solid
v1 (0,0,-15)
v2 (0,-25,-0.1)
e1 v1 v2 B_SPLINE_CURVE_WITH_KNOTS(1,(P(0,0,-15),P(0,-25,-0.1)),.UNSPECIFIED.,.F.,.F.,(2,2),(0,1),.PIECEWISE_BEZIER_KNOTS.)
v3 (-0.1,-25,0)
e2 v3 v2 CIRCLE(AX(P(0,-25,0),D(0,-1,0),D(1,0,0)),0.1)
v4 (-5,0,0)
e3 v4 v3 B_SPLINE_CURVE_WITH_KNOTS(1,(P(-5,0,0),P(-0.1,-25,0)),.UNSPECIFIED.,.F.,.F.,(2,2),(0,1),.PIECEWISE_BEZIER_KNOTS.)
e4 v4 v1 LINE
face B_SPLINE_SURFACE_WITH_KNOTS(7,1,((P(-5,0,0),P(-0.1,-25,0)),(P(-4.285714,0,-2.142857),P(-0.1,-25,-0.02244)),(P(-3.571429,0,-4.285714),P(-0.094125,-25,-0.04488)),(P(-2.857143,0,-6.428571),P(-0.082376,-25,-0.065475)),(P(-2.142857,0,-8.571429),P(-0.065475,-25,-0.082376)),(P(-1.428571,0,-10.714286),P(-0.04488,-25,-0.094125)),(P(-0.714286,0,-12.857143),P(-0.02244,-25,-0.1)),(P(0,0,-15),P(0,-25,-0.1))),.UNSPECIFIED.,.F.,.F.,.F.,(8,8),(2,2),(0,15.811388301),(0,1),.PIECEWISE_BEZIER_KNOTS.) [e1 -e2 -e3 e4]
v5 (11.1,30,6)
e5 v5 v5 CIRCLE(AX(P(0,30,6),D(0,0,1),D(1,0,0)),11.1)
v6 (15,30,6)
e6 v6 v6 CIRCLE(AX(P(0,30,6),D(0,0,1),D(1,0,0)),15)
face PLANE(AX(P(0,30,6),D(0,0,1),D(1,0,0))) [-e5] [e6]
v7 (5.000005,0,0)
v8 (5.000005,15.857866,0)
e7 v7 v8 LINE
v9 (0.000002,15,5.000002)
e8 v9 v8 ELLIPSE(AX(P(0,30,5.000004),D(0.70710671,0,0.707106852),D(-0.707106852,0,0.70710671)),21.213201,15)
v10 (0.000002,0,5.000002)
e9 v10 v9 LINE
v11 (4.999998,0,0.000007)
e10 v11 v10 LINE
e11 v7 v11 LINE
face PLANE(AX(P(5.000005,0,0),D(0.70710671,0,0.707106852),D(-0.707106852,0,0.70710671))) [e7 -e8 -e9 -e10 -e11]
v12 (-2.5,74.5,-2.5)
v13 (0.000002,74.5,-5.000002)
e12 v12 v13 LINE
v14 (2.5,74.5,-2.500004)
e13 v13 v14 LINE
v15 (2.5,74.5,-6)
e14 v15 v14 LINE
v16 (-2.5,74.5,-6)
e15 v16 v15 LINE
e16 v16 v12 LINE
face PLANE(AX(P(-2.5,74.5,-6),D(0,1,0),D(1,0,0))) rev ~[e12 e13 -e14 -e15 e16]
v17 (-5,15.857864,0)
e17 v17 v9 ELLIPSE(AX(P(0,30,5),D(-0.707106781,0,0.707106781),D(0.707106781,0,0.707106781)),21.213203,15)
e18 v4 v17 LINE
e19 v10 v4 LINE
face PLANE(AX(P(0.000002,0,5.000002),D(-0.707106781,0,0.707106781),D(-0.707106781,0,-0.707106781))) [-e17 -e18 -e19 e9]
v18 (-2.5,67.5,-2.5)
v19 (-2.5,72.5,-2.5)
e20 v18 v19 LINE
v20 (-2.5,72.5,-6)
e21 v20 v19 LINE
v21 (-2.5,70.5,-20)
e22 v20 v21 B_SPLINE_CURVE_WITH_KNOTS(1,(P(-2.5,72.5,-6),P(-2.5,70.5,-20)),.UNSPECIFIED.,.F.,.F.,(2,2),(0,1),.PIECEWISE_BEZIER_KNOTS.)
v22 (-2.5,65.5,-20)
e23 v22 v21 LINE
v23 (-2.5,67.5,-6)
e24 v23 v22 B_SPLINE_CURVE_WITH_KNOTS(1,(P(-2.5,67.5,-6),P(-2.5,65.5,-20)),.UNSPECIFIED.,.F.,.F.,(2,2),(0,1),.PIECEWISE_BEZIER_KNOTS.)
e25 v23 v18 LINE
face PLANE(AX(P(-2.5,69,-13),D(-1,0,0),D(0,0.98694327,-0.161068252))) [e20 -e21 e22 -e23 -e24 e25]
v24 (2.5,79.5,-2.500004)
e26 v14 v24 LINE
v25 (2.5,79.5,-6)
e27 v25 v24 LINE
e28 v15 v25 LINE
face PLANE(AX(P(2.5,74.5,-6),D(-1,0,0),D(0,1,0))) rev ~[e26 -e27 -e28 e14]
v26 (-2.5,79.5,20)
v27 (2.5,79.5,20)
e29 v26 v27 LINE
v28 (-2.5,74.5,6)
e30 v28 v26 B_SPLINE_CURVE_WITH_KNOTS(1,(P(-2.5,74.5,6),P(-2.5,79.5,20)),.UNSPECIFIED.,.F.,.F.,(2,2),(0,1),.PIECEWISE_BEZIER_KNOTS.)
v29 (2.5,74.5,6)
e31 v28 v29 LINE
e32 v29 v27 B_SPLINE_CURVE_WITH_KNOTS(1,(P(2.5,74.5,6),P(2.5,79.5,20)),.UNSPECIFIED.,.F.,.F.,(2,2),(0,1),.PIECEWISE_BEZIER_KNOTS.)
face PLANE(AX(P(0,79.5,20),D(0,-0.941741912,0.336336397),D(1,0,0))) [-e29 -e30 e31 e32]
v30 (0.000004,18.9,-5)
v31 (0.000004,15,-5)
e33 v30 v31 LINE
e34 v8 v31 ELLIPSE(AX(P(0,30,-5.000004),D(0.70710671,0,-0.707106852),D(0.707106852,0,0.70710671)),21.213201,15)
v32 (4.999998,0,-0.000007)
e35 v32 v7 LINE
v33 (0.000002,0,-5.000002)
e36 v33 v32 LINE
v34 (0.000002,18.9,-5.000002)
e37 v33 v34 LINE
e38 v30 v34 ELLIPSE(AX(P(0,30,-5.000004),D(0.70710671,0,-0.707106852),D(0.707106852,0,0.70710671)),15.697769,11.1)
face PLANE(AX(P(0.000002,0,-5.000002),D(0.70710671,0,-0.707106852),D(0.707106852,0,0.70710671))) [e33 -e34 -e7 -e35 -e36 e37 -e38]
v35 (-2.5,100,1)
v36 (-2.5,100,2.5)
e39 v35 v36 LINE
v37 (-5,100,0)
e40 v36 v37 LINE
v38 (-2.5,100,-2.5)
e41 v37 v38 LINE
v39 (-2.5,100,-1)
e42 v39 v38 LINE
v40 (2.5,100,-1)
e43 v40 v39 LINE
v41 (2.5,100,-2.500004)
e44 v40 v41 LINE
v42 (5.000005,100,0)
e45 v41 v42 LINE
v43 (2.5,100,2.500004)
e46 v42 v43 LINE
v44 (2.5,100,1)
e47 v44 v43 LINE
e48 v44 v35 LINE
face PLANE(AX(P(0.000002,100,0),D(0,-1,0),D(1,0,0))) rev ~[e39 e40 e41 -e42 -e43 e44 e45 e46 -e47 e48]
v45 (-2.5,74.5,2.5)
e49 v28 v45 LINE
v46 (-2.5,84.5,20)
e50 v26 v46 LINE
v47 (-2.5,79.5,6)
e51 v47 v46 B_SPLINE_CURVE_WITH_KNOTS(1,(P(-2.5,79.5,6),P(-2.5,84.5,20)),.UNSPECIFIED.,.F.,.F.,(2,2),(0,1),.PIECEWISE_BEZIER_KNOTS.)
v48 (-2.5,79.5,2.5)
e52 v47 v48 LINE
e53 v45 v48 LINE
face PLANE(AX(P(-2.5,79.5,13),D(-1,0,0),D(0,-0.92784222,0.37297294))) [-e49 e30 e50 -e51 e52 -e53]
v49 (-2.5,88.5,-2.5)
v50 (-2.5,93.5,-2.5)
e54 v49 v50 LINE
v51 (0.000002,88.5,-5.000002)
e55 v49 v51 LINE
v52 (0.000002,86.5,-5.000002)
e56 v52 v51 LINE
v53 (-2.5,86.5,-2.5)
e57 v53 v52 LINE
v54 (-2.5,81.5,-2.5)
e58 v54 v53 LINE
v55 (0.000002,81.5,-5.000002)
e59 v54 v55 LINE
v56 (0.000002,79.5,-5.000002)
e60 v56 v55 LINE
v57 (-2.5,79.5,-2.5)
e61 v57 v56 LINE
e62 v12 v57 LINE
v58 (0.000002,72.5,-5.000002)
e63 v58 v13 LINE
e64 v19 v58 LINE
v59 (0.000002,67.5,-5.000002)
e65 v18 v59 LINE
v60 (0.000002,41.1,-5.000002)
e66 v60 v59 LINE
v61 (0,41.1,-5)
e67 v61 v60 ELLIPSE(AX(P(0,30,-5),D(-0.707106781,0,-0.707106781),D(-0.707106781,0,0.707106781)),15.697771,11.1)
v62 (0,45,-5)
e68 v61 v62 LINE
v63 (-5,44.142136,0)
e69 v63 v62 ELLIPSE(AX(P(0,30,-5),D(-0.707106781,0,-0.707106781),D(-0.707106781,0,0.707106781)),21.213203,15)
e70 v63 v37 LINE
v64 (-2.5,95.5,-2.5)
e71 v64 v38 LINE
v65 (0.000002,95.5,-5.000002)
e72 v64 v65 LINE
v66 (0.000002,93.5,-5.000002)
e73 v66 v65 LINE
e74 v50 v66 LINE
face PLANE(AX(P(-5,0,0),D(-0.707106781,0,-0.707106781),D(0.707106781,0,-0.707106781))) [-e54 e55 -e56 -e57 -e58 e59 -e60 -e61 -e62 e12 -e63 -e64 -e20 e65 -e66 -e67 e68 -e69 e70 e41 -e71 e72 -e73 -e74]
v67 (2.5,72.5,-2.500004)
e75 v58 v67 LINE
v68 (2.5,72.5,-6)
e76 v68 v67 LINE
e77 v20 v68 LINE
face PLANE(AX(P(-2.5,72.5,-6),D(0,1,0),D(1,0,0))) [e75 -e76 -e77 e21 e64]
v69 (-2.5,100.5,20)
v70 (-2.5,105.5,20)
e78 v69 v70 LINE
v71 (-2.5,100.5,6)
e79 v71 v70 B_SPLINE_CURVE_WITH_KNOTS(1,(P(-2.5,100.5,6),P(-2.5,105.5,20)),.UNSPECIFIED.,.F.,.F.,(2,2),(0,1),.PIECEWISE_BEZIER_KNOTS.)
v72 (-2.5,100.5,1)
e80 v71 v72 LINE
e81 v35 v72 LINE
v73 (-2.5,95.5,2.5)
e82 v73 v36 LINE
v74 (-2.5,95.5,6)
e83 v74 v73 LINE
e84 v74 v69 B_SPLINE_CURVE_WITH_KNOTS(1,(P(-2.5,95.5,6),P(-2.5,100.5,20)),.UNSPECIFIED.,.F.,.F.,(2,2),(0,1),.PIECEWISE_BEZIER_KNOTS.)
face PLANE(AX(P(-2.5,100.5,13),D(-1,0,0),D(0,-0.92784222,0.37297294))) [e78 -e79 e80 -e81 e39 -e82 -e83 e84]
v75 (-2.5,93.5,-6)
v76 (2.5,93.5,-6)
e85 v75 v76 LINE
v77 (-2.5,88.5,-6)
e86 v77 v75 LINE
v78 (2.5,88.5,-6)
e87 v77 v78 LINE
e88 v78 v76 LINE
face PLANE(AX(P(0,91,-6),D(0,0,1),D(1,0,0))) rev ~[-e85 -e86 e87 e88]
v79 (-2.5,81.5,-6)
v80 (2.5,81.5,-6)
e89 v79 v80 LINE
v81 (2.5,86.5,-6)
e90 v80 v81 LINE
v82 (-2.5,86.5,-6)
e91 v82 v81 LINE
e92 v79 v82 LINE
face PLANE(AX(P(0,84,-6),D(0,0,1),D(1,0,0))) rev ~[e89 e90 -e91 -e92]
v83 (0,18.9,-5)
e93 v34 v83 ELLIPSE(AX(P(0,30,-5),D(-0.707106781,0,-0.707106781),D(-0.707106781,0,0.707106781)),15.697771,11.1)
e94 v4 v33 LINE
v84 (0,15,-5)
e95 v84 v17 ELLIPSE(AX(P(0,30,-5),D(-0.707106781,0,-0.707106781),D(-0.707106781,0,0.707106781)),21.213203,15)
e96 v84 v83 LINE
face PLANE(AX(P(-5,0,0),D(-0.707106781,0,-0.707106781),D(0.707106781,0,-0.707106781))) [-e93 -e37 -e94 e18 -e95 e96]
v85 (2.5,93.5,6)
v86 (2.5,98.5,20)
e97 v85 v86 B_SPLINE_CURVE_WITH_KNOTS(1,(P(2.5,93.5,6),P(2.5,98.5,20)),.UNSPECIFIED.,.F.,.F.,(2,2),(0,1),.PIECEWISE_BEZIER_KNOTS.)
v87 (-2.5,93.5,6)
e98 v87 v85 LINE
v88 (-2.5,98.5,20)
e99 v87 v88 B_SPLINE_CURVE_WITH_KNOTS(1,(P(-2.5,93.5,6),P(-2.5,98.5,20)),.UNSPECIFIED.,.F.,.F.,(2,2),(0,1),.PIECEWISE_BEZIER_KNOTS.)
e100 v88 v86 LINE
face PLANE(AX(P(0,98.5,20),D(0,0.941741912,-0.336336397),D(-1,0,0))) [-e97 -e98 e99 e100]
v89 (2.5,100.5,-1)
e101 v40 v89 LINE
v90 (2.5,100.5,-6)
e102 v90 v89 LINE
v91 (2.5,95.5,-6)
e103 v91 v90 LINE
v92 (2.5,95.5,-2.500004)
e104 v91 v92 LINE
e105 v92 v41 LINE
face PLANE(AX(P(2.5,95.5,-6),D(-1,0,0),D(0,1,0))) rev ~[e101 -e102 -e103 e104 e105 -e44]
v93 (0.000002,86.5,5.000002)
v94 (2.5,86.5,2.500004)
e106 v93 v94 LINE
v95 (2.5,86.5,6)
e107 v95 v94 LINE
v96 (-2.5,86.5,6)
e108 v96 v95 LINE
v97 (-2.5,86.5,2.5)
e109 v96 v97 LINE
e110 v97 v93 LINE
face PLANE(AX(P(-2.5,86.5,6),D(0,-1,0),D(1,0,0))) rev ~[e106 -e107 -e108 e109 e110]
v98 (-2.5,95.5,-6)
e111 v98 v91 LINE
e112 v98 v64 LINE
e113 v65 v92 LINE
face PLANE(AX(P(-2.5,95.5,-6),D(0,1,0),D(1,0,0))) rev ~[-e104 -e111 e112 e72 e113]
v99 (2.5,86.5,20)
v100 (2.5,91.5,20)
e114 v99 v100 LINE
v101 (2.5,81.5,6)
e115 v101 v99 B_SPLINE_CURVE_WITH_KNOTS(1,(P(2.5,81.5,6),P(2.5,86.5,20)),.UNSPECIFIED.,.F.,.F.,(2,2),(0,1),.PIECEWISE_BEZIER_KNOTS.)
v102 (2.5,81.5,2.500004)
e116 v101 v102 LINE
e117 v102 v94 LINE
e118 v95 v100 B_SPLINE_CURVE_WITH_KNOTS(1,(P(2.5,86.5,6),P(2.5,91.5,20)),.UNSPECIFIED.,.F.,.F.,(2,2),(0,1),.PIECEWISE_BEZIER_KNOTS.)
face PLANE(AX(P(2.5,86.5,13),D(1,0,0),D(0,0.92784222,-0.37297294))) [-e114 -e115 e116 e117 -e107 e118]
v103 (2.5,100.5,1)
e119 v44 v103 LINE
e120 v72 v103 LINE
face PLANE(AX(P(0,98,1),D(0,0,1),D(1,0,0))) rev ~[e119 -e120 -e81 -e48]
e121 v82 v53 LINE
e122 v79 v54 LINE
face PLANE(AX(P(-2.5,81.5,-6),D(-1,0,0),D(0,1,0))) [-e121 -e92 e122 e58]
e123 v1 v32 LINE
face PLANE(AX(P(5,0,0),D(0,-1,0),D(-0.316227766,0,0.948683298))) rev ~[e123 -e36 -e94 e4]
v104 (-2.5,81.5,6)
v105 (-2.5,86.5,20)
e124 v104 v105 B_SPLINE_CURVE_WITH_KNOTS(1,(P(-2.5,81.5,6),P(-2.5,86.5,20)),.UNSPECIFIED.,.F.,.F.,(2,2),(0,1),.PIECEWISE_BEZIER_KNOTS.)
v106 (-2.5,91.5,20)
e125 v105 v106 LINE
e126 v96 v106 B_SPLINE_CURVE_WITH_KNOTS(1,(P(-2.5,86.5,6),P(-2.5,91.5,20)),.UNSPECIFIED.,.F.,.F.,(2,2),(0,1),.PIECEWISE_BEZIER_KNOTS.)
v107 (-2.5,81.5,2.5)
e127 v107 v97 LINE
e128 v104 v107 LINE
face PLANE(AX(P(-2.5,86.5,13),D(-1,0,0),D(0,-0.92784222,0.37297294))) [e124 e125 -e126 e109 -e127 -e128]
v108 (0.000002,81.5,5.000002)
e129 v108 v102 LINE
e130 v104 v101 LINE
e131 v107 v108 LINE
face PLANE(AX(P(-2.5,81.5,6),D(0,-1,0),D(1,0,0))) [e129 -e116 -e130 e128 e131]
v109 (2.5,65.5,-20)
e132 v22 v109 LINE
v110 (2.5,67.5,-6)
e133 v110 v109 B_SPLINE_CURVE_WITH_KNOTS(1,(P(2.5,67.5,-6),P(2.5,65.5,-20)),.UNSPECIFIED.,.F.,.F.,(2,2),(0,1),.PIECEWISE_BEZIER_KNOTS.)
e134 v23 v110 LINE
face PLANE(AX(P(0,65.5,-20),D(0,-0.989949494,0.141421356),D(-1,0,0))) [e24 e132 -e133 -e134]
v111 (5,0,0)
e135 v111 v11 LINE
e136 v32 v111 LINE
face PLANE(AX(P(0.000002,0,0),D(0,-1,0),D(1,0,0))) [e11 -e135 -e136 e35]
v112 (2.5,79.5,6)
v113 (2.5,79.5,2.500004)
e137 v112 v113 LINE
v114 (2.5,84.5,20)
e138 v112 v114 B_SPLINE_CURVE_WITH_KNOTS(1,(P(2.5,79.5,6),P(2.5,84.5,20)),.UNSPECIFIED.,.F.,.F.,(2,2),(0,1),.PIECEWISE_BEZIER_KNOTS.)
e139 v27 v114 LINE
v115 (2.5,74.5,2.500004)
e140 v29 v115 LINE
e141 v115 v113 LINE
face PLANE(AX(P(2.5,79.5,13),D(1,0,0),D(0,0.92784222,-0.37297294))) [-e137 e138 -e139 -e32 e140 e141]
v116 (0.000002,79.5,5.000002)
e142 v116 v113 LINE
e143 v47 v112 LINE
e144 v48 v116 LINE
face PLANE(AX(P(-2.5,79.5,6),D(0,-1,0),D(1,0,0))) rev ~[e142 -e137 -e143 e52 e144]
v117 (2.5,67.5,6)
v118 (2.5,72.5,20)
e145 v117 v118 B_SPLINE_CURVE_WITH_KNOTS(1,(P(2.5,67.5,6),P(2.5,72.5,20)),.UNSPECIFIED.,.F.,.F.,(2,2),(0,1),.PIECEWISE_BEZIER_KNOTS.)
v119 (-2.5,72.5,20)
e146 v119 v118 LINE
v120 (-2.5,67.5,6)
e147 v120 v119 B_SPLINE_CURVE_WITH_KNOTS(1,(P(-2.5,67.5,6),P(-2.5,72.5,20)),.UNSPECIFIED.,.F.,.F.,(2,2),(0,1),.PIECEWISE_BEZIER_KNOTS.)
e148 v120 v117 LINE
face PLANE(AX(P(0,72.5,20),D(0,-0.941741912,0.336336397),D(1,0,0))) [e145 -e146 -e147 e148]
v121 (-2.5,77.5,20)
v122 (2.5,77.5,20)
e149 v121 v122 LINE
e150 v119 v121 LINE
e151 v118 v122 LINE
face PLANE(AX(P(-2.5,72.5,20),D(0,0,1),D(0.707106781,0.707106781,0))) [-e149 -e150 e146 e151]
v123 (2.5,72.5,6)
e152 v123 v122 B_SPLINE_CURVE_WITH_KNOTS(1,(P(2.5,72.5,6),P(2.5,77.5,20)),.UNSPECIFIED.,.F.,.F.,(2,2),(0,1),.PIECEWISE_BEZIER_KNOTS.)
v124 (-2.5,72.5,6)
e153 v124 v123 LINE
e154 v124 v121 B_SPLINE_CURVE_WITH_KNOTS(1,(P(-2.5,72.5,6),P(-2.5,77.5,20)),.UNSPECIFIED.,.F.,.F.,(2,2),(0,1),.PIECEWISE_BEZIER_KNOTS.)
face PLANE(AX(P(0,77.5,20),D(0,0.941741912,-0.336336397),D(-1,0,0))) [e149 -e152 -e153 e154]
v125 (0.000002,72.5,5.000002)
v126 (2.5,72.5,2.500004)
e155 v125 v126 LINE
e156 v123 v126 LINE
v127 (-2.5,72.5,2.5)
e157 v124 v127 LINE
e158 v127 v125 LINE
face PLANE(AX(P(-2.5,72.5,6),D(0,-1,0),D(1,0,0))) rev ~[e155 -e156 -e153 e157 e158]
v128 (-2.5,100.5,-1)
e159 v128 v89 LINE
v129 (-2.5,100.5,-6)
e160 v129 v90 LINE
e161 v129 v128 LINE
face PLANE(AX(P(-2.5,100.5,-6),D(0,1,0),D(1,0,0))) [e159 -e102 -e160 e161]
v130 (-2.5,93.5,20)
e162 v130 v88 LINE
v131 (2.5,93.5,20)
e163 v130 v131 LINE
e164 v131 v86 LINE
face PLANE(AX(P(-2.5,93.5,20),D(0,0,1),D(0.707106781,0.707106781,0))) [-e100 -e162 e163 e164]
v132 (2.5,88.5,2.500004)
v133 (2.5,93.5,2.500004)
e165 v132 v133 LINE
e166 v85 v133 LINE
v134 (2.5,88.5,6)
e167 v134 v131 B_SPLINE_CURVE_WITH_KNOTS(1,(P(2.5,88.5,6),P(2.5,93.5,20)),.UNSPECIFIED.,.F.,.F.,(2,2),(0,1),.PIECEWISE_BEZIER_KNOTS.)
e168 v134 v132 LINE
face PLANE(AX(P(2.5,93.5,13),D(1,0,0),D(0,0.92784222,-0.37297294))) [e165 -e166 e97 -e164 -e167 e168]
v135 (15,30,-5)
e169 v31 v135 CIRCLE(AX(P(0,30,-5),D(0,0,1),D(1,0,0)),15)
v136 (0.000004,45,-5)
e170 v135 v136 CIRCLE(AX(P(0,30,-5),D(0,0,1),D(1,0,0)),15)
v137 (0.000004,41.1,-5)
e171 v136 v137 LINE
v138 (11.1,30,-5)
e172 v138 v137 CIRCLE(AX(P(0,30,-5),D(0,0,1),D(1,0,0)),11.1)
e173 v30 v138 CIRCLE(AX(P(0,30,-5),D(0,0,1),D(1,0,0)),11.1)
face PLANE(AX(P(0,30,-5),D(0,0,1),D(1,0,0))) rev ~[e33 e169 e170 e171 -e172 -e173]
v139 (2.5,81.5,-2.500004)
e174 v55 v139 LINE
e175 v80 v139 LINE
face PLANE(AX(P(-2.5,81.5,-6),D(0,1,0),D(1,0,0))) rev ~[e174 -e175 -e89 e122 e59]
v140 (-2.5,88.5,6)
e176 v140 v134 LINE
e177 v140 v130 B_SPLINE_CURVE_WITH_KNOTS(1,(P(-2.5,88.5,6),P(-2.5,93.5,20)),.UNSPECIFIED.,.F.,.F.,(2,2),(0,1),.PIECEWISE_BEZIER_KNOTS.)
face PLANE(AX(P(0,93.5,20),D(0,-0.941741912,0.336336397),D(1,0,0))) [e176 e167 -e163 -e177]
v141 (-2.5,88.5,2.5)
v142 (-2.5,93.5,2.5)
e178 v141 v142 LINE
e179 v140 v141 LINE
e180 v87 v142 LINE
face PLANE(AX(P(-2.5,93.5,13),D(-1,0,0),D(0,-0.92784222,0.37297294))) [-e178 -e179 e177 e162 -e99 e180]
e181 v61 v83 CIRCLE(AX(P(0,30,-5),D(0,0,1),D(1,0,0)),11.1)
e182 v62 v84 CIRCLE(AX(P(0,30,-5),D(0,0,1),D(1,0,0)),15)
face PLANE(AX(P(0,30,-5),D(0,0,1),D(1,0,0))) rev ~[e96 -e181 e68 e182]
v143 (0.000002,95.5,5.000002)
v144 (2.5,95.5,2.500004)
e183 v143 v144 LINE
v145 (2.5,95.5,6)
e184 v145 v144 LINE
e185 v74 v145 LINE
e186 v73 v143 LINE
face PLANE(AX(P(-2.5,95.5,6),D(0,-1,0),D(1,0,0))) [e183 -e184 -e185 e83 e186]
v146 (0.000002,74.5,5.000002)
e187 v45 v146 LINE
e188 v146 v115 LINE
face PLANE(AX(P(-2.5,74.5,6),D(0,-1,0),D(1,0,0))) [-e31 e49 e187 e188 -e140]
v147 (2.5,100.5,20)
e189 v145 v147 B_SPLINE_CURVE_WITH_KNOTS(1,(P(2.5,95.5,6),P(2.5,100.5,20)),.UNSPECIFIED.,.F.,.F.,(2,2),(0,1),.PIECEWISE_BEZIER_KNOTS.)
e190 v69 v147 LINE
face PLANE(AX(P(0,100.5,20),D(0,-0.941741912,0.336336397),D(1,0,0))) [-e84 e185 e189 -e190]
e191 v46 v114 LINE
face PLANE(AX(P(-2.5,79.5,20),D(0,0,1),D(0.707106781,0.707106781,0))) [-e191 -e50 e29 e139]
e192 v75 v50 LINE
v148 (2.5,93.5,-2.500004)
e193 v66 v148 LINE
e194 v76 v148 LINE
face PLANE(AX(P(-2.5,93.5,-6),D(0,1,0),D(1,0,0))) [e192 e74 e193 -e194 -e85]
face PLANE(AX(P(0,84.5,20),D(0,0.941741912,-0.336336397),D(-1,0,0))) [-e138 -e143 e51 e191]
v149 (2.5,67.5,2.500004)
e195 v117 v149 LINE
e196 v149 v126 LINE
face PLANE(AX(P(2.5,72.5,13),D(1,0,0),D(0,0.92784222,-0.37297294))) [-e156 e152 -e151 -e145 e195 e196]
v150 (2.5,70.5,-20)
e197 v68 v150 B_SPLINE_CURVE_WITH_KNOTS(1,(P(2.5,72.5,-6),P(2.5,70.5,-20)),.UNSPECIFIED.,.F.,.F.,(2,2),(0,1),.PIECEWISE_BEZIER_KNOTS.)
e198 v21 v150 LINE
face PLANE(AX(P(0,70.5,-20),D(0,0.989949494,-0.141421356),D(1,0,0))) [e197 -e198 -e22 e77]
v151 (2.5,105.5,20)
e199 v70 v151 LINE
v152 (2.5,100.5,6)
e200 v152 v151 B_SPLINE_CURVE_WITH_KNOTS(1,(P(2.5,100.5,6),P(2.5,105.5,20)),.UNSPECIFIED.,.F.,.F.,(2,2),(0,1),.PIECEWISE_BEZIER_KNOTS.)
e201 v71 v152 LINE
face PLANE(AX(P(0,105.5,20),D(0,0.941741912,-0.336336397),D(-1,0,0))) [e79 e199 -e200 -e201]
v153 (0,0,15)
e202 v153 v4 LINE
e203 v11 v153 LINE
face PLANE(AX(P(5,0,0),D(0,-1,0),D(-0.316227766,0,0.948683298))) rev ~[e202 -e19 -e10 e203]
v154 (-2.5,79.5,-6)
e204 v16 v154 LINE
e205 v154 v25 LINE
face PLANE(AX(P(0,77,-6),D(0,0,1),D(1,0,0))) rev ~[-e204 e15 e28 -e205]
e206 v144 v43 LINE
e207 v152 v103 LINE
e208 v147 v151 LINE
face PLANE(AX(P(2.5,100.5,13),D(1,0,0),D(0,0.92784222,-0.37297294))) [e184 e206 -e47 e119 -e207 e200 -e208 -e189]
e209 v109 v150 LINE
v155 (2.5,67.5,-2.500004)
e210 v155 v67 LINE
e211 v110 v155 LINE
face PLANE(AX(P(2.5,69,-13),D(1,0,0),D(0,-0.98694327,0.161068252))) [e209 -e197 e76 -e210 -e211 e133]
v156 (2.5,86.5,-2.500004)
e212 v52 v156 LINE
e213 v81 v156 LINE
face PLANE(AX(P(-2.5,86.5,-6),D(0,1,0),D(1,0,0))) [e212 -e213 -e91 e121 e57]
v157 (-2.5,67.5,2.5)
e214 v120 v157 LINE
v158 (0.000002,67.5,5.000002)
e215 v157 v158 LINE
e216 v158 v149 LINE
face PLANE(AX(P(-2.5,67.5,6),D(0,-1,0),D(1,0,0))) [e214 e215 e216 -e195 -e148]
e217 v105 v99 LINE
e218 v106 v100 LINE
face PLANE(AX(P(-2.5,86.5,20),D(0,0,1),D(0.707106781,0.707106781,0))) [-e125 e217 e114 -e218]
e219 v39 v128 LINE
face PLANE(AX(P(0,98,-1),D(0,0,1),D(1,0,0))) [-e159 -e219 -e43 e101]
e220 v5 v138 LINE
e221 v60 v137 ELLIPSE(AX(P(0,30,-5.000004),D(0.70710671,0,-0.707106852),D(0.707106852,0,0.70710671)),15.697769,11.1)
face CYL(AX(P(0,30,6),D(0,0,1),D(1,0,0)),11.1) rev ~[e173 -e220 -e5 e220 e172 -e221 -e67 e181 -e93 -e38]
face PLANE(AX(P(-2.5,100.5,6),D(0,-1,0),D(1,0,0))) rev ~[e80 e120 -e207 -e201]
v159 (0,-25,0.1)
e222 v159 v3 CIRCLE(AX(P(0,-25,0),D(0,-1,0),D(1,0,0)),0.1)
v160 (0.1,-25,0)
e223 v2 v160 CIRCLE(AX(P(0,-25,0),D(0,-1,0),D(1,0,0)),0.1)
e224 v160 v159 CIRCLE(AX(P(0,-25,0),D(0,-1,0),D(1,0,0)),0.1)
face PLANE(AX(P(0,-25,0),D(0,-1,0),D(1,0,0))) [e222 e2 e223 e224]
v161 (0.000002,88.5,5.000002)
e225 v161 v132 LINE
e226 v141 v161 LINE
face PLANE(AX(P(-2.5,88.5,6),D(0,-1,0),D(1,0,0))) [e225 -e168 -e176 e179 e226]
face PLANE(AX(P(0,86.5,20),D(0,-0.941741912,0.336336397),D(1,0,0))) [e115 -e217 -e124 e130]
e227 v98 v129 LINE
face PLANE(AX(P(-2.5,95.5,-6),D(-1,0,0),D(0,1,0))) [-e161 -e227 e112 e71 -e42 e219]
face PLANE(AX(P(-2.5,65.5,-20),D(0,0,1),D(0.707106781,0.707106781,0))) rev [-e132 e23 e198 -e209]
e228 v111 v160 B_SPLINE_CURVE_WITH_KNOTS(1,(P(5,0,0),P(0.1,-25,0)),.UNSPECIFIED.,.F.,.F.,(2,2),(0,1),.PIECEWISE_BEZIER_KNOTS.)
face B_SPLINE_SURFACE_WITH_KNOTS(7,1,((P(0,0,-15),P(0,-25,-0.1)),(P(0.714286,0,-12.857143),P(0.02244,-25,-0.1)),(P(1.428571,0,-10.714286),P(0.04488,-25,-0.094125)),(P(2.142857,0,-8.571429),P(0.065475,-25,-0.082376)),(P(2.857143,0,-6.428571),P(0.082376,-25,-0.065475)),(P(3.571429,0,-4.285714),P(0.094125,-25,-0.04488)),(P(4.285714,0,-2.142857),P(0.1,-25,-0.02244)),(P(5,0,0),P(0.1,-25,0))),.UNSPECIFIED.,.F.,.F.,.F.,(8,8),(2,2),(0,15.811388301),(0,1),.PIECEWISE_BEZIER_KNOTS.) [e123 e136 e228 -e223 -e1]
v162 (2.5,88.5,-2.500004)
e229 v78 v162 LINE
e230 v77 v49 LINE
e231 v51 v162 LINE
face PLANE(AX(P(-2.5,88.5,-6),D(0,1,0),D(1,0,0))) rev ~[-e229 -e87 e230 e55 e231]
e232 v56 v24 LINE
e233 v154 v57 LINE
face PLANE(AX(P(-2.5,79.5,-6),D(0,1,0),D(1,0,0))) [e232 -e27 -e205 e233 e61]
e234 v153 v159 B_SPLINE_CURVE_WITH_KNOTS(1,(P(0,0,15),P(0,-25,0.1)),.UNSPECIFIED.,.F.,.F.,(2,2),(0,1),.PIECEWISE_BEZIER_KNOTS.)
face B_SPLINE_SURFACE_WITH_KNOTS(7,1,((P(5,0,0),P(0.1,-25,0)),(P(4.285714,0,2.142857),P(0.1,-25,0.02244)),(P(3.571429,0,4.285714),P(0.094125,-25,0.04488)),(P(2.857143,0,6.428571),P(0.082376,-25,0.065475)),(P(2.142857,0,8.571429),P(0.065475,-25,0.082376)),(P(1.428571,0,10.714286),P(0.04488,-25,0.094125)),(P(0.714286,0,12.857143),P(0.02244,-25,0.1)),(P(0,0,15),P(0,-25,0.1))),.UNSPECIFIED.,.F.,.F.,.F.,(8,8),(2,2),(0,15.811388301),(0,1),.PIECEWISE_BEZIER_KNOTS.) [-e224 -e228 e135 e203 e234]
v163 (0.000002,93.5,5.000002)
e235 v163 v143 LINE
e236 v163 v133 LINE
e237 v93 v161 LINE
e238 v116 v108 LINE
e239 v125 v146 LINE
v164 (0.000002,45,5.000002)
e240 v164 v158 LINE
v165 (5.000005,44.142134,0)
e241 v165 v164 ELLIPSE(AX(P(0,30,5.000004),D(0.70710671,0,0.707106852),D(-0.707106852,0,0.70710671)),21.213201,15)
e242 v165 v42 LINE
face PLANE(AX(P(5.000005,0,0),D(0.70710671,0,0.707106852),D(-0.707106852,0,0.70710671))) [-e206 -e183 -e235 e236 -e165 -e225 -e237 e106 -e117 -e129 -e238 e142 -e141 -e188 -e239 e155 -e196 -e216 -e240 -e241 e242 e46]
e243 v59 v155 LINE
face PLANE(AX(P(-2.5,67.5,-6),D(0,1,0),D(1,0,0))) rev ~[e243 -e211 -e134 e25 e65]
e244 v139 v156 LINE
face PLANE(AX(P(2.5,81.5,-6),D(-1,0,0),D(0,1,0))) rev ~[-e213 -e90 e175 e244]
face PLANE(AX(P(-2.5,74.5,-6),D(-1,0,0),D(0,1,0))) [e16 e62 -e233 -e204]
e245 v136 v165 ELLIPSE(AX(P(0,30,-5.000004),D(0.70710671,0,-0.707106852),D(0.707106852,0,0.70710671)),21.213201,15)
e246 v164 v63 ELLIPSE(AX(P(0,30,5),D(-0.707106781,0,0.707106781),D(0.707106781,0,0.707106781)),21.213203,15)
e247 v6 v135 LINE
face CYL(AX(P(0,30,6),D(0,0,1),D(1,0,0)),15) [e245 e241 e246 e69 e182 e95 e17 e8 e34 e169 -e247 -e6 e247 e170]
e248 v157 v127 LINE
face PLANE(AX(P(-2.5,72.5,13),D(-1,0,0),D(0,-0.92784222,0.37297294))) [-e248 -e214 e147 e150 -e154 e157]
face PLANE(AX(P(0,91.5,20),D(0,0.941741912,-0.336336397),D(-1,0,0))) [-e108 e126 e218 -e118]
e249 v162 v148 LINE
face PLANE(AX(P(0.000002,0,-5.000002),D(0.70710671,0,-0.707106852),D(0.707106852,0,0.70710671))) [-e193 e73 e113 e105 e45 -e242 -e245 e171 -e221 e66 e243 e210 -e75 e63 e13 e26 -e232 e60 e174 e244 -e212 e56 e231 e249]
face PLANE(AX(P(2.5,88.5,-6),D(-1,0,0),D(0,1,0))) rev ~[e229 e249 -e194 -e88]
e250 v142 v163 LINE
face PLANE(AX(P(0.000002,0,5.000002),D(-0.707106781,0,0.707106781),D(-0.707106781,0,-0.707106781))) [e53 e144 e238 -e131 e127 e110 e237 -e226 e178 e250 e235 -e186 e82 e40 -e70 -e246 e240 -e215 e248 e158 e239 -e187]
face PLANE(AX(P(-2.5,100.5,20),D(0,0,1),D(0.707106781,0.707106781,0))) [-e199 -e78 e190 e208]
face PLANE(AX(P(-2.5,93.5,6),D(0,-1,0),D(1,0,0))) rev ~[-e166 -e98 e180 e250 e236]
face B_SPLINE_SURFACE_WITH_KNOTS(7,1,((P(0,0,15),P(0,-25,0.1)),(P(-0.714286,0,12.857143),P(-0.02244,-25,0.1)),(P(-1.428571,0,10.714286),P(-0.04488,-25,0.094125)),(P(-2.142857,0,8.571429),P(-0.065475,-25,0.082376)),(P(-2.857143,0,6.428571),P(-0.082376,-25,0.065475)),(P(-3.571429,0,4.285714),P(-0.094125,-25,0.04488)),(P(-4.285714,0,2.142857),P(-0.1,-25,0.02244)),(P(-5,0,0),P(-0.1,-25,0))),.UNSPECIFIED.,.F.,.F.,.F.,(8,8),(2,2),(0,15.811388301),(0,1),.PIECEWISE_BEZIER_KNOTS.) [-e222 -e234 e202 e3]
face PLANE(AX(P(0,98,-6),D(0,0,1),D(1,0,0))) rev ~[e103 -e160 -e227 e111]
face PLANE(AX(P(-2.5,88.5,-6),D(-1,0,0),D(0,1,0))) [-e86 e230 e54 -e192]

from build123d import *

# Parameters (mm, degrees)
F2_R       = 0.1
F5_DEPTH   = 100
F7_R       = 15
F7_R_2     = 11
F8_DEPTH   = 11
F9_R       = 11.1
F10_DEPTH  = 21.001
F11_W      = 5
F11_H      = 5
F14_DEPTH  = 5
F14_FACE_W = 5
F14_FACE_H = 5
F13_W      = 5
F13_H      = 5
F21_W      = 5
F21_H      = 5
F22_DEPTH  = 5
F22_FACE_W = 5
F22_FACE_H = 5
F24_W      = 5
F24_H      = 5


with BuildPart() as f3:
    # F0 (on Front) → F3 section 0
    with BuildSketch(Plane.XZ):
        Polygon((5, 0), (0, 15), (-5, 0), (0, -15), align=None)
    # F2 (on offset) → F3 section 1
    with BuildSketch(Plane.XZ.offset(25)):
        Circle(F2_R)
    loft()

    # F4 (on Front) → F5 (join)
    with BuildSketch(Plane.XZ):
        Polygon((2e-06, 5.000002), (-5, 0), (2e-06, -5.000002), (5.000005, 0), align=None)
    extrude(amount=-F5_DEPTH)

    # F7 (on offset) → F8 (join)
    with BuildSketch(Plane.XY.offset(6)):
        with Locations((0, 30)):
            Circle(F7_R)
        with Locations((0, 30)):
            Circle(F7_R_2, mode=Mode.SUBTRACT)
    extrude(amount=-F8_DEPTH)

    # F9 (on offset) → F10 (cut, through all)
    with BuildSketch(Plane.XY.offset(6)):
        with Locations((0, 30)):
            Circle(F9_R)
    extrude(amount=-F10_DEPTH, mode=Mode.SUBTRACT)

    # F11 (on offset) → F14 (join)
    with BuildSketch(Plane.XY.offset(6)):
        with Locations((0, 70)):
            Rectangle(F11_W, F11_H)
        with Locations((0, 77)):
            Rectangle(F11_W, F11_H)
        with Locations((0, 84)):
            Rectangle(F11_W, F11_H)
        with Locations((0, 91)):
            Rectangle(F11_W, F11_H)
        with Locations((0, 98)):
            Rectangle(F11_W, F11_H)
    extrude(amount=-F14_DEPTH)

    # F14_face (on face) → F15 section 0
    with BuildSketch(Plane(origin=(0, 70, 6), x_dir=(1, 0, 0), z_dir=(0, 0, 1))):
        Rectangle(F14_FACE_W, F14_FACE_H)
    # F13 (on offset) → F15 section 1
    with BuildSketch(Plane.XY.offset(20)):
        with Locations((0, 75)):
            Rectangle(F13_W, F13_H)
    loft()

    # F14_face (on face) → F16 section 0
    with BuildSketch(Plane(origin=(0, 70, 6), x_dir=(1, 0, 0), z_dir=(0, 0, 1))):
        with Locations((0, 7)):
            Rectangle(F14_FACE_W, F14_FACE_H)
    # F13 (on offset) → F16 section 1
    with BuildSketch(Plane.XY.offset(20)):
        with Locations((0, 82)):
            Rectangle(F13_W, F13_H)
    loft()

    # F14_face (on face) → F17 section 0
    with BuildSketch(Plane(origin=(0, 70, 6), x_dir=(1, 0, 0), z_dir=(0, 0, 1))):
        with Locations((0, 14)):
            Rectangle(F14_FACE_W, F14_FACE_H)
    # F13 (on offset) → F17 section 1
    with BuildSketch(Plane.XY.offset(20)):
        with Locations((0, 89)):
            Rectangle(F13_W, F13_H)
    loft()

    # F14_face (on face) → F18 section 0
    with BuildSketch(Plane(origin=(0, 70, 6), x_dir=(1, 0, 0), z_dir=(0, 0, 1))):
        with Locations((0, 21)):
            Rectangle(F14_FACE_W, F14_FACE_H)
    # F13 (on offset) → F18 section 1
    with BuildSketch(Plane.XY.offset(20)):
        with Locations((0, 96)):
            Rectangle(F13_W, F13_H)
    loft()

    # F14_face (on face) → F19 section 0
    with BuildSketch(Plane(origin=(0, 70, 6), x_dir=(1, 0, 0), z_dir=(0, 0, 1))):
        with Locations((0, 28)):
            Rectangle(F14_FACE_W, F14_FACE_H)
    # F13 (on offset) → F19 section 1
    with BuildSketch(Plane.XY.offset(20)):
        with Locations((0, 103)):
            Rectangle(F13_W, F13_H)
    loft()

    # F21 (on offset) → F22 (join)
    with BuildSketch(Plane.XY.offset(-6)):
        with Locations((0, 70)):
            Rectangle(F21_W, F21_H)
        with Locations((0, 77)):
            Rectangle(F21_W, F21_H)
        with Locations((0, 84)):
            Rectangle(F21_W, F21_H)
        with Locations((0, 91)):
            Rectangle(F21_W, F21_H)
        with Locations((0, 98)):
            Rectangle(F21_W, F21_H)
    extrude(amount=F22_DEPTH)

    # F22_face (on face) → F25 section 0
    with BuildSketch(Plane(origin=(0, 70, -6), x_dir=(1, 0, 0), z_dir=(0, 0, -1))):
        Rectangle(F22_FACE_W, F22_FACE_H)
    # F24 (on offset) → F25 section 1
    with BuildSketch(Plane.XY.offset(-20)):
        with Locations((0, 68)):
            Rectangle(F24_W, F24_H)
    loft()


solid = f3.part
